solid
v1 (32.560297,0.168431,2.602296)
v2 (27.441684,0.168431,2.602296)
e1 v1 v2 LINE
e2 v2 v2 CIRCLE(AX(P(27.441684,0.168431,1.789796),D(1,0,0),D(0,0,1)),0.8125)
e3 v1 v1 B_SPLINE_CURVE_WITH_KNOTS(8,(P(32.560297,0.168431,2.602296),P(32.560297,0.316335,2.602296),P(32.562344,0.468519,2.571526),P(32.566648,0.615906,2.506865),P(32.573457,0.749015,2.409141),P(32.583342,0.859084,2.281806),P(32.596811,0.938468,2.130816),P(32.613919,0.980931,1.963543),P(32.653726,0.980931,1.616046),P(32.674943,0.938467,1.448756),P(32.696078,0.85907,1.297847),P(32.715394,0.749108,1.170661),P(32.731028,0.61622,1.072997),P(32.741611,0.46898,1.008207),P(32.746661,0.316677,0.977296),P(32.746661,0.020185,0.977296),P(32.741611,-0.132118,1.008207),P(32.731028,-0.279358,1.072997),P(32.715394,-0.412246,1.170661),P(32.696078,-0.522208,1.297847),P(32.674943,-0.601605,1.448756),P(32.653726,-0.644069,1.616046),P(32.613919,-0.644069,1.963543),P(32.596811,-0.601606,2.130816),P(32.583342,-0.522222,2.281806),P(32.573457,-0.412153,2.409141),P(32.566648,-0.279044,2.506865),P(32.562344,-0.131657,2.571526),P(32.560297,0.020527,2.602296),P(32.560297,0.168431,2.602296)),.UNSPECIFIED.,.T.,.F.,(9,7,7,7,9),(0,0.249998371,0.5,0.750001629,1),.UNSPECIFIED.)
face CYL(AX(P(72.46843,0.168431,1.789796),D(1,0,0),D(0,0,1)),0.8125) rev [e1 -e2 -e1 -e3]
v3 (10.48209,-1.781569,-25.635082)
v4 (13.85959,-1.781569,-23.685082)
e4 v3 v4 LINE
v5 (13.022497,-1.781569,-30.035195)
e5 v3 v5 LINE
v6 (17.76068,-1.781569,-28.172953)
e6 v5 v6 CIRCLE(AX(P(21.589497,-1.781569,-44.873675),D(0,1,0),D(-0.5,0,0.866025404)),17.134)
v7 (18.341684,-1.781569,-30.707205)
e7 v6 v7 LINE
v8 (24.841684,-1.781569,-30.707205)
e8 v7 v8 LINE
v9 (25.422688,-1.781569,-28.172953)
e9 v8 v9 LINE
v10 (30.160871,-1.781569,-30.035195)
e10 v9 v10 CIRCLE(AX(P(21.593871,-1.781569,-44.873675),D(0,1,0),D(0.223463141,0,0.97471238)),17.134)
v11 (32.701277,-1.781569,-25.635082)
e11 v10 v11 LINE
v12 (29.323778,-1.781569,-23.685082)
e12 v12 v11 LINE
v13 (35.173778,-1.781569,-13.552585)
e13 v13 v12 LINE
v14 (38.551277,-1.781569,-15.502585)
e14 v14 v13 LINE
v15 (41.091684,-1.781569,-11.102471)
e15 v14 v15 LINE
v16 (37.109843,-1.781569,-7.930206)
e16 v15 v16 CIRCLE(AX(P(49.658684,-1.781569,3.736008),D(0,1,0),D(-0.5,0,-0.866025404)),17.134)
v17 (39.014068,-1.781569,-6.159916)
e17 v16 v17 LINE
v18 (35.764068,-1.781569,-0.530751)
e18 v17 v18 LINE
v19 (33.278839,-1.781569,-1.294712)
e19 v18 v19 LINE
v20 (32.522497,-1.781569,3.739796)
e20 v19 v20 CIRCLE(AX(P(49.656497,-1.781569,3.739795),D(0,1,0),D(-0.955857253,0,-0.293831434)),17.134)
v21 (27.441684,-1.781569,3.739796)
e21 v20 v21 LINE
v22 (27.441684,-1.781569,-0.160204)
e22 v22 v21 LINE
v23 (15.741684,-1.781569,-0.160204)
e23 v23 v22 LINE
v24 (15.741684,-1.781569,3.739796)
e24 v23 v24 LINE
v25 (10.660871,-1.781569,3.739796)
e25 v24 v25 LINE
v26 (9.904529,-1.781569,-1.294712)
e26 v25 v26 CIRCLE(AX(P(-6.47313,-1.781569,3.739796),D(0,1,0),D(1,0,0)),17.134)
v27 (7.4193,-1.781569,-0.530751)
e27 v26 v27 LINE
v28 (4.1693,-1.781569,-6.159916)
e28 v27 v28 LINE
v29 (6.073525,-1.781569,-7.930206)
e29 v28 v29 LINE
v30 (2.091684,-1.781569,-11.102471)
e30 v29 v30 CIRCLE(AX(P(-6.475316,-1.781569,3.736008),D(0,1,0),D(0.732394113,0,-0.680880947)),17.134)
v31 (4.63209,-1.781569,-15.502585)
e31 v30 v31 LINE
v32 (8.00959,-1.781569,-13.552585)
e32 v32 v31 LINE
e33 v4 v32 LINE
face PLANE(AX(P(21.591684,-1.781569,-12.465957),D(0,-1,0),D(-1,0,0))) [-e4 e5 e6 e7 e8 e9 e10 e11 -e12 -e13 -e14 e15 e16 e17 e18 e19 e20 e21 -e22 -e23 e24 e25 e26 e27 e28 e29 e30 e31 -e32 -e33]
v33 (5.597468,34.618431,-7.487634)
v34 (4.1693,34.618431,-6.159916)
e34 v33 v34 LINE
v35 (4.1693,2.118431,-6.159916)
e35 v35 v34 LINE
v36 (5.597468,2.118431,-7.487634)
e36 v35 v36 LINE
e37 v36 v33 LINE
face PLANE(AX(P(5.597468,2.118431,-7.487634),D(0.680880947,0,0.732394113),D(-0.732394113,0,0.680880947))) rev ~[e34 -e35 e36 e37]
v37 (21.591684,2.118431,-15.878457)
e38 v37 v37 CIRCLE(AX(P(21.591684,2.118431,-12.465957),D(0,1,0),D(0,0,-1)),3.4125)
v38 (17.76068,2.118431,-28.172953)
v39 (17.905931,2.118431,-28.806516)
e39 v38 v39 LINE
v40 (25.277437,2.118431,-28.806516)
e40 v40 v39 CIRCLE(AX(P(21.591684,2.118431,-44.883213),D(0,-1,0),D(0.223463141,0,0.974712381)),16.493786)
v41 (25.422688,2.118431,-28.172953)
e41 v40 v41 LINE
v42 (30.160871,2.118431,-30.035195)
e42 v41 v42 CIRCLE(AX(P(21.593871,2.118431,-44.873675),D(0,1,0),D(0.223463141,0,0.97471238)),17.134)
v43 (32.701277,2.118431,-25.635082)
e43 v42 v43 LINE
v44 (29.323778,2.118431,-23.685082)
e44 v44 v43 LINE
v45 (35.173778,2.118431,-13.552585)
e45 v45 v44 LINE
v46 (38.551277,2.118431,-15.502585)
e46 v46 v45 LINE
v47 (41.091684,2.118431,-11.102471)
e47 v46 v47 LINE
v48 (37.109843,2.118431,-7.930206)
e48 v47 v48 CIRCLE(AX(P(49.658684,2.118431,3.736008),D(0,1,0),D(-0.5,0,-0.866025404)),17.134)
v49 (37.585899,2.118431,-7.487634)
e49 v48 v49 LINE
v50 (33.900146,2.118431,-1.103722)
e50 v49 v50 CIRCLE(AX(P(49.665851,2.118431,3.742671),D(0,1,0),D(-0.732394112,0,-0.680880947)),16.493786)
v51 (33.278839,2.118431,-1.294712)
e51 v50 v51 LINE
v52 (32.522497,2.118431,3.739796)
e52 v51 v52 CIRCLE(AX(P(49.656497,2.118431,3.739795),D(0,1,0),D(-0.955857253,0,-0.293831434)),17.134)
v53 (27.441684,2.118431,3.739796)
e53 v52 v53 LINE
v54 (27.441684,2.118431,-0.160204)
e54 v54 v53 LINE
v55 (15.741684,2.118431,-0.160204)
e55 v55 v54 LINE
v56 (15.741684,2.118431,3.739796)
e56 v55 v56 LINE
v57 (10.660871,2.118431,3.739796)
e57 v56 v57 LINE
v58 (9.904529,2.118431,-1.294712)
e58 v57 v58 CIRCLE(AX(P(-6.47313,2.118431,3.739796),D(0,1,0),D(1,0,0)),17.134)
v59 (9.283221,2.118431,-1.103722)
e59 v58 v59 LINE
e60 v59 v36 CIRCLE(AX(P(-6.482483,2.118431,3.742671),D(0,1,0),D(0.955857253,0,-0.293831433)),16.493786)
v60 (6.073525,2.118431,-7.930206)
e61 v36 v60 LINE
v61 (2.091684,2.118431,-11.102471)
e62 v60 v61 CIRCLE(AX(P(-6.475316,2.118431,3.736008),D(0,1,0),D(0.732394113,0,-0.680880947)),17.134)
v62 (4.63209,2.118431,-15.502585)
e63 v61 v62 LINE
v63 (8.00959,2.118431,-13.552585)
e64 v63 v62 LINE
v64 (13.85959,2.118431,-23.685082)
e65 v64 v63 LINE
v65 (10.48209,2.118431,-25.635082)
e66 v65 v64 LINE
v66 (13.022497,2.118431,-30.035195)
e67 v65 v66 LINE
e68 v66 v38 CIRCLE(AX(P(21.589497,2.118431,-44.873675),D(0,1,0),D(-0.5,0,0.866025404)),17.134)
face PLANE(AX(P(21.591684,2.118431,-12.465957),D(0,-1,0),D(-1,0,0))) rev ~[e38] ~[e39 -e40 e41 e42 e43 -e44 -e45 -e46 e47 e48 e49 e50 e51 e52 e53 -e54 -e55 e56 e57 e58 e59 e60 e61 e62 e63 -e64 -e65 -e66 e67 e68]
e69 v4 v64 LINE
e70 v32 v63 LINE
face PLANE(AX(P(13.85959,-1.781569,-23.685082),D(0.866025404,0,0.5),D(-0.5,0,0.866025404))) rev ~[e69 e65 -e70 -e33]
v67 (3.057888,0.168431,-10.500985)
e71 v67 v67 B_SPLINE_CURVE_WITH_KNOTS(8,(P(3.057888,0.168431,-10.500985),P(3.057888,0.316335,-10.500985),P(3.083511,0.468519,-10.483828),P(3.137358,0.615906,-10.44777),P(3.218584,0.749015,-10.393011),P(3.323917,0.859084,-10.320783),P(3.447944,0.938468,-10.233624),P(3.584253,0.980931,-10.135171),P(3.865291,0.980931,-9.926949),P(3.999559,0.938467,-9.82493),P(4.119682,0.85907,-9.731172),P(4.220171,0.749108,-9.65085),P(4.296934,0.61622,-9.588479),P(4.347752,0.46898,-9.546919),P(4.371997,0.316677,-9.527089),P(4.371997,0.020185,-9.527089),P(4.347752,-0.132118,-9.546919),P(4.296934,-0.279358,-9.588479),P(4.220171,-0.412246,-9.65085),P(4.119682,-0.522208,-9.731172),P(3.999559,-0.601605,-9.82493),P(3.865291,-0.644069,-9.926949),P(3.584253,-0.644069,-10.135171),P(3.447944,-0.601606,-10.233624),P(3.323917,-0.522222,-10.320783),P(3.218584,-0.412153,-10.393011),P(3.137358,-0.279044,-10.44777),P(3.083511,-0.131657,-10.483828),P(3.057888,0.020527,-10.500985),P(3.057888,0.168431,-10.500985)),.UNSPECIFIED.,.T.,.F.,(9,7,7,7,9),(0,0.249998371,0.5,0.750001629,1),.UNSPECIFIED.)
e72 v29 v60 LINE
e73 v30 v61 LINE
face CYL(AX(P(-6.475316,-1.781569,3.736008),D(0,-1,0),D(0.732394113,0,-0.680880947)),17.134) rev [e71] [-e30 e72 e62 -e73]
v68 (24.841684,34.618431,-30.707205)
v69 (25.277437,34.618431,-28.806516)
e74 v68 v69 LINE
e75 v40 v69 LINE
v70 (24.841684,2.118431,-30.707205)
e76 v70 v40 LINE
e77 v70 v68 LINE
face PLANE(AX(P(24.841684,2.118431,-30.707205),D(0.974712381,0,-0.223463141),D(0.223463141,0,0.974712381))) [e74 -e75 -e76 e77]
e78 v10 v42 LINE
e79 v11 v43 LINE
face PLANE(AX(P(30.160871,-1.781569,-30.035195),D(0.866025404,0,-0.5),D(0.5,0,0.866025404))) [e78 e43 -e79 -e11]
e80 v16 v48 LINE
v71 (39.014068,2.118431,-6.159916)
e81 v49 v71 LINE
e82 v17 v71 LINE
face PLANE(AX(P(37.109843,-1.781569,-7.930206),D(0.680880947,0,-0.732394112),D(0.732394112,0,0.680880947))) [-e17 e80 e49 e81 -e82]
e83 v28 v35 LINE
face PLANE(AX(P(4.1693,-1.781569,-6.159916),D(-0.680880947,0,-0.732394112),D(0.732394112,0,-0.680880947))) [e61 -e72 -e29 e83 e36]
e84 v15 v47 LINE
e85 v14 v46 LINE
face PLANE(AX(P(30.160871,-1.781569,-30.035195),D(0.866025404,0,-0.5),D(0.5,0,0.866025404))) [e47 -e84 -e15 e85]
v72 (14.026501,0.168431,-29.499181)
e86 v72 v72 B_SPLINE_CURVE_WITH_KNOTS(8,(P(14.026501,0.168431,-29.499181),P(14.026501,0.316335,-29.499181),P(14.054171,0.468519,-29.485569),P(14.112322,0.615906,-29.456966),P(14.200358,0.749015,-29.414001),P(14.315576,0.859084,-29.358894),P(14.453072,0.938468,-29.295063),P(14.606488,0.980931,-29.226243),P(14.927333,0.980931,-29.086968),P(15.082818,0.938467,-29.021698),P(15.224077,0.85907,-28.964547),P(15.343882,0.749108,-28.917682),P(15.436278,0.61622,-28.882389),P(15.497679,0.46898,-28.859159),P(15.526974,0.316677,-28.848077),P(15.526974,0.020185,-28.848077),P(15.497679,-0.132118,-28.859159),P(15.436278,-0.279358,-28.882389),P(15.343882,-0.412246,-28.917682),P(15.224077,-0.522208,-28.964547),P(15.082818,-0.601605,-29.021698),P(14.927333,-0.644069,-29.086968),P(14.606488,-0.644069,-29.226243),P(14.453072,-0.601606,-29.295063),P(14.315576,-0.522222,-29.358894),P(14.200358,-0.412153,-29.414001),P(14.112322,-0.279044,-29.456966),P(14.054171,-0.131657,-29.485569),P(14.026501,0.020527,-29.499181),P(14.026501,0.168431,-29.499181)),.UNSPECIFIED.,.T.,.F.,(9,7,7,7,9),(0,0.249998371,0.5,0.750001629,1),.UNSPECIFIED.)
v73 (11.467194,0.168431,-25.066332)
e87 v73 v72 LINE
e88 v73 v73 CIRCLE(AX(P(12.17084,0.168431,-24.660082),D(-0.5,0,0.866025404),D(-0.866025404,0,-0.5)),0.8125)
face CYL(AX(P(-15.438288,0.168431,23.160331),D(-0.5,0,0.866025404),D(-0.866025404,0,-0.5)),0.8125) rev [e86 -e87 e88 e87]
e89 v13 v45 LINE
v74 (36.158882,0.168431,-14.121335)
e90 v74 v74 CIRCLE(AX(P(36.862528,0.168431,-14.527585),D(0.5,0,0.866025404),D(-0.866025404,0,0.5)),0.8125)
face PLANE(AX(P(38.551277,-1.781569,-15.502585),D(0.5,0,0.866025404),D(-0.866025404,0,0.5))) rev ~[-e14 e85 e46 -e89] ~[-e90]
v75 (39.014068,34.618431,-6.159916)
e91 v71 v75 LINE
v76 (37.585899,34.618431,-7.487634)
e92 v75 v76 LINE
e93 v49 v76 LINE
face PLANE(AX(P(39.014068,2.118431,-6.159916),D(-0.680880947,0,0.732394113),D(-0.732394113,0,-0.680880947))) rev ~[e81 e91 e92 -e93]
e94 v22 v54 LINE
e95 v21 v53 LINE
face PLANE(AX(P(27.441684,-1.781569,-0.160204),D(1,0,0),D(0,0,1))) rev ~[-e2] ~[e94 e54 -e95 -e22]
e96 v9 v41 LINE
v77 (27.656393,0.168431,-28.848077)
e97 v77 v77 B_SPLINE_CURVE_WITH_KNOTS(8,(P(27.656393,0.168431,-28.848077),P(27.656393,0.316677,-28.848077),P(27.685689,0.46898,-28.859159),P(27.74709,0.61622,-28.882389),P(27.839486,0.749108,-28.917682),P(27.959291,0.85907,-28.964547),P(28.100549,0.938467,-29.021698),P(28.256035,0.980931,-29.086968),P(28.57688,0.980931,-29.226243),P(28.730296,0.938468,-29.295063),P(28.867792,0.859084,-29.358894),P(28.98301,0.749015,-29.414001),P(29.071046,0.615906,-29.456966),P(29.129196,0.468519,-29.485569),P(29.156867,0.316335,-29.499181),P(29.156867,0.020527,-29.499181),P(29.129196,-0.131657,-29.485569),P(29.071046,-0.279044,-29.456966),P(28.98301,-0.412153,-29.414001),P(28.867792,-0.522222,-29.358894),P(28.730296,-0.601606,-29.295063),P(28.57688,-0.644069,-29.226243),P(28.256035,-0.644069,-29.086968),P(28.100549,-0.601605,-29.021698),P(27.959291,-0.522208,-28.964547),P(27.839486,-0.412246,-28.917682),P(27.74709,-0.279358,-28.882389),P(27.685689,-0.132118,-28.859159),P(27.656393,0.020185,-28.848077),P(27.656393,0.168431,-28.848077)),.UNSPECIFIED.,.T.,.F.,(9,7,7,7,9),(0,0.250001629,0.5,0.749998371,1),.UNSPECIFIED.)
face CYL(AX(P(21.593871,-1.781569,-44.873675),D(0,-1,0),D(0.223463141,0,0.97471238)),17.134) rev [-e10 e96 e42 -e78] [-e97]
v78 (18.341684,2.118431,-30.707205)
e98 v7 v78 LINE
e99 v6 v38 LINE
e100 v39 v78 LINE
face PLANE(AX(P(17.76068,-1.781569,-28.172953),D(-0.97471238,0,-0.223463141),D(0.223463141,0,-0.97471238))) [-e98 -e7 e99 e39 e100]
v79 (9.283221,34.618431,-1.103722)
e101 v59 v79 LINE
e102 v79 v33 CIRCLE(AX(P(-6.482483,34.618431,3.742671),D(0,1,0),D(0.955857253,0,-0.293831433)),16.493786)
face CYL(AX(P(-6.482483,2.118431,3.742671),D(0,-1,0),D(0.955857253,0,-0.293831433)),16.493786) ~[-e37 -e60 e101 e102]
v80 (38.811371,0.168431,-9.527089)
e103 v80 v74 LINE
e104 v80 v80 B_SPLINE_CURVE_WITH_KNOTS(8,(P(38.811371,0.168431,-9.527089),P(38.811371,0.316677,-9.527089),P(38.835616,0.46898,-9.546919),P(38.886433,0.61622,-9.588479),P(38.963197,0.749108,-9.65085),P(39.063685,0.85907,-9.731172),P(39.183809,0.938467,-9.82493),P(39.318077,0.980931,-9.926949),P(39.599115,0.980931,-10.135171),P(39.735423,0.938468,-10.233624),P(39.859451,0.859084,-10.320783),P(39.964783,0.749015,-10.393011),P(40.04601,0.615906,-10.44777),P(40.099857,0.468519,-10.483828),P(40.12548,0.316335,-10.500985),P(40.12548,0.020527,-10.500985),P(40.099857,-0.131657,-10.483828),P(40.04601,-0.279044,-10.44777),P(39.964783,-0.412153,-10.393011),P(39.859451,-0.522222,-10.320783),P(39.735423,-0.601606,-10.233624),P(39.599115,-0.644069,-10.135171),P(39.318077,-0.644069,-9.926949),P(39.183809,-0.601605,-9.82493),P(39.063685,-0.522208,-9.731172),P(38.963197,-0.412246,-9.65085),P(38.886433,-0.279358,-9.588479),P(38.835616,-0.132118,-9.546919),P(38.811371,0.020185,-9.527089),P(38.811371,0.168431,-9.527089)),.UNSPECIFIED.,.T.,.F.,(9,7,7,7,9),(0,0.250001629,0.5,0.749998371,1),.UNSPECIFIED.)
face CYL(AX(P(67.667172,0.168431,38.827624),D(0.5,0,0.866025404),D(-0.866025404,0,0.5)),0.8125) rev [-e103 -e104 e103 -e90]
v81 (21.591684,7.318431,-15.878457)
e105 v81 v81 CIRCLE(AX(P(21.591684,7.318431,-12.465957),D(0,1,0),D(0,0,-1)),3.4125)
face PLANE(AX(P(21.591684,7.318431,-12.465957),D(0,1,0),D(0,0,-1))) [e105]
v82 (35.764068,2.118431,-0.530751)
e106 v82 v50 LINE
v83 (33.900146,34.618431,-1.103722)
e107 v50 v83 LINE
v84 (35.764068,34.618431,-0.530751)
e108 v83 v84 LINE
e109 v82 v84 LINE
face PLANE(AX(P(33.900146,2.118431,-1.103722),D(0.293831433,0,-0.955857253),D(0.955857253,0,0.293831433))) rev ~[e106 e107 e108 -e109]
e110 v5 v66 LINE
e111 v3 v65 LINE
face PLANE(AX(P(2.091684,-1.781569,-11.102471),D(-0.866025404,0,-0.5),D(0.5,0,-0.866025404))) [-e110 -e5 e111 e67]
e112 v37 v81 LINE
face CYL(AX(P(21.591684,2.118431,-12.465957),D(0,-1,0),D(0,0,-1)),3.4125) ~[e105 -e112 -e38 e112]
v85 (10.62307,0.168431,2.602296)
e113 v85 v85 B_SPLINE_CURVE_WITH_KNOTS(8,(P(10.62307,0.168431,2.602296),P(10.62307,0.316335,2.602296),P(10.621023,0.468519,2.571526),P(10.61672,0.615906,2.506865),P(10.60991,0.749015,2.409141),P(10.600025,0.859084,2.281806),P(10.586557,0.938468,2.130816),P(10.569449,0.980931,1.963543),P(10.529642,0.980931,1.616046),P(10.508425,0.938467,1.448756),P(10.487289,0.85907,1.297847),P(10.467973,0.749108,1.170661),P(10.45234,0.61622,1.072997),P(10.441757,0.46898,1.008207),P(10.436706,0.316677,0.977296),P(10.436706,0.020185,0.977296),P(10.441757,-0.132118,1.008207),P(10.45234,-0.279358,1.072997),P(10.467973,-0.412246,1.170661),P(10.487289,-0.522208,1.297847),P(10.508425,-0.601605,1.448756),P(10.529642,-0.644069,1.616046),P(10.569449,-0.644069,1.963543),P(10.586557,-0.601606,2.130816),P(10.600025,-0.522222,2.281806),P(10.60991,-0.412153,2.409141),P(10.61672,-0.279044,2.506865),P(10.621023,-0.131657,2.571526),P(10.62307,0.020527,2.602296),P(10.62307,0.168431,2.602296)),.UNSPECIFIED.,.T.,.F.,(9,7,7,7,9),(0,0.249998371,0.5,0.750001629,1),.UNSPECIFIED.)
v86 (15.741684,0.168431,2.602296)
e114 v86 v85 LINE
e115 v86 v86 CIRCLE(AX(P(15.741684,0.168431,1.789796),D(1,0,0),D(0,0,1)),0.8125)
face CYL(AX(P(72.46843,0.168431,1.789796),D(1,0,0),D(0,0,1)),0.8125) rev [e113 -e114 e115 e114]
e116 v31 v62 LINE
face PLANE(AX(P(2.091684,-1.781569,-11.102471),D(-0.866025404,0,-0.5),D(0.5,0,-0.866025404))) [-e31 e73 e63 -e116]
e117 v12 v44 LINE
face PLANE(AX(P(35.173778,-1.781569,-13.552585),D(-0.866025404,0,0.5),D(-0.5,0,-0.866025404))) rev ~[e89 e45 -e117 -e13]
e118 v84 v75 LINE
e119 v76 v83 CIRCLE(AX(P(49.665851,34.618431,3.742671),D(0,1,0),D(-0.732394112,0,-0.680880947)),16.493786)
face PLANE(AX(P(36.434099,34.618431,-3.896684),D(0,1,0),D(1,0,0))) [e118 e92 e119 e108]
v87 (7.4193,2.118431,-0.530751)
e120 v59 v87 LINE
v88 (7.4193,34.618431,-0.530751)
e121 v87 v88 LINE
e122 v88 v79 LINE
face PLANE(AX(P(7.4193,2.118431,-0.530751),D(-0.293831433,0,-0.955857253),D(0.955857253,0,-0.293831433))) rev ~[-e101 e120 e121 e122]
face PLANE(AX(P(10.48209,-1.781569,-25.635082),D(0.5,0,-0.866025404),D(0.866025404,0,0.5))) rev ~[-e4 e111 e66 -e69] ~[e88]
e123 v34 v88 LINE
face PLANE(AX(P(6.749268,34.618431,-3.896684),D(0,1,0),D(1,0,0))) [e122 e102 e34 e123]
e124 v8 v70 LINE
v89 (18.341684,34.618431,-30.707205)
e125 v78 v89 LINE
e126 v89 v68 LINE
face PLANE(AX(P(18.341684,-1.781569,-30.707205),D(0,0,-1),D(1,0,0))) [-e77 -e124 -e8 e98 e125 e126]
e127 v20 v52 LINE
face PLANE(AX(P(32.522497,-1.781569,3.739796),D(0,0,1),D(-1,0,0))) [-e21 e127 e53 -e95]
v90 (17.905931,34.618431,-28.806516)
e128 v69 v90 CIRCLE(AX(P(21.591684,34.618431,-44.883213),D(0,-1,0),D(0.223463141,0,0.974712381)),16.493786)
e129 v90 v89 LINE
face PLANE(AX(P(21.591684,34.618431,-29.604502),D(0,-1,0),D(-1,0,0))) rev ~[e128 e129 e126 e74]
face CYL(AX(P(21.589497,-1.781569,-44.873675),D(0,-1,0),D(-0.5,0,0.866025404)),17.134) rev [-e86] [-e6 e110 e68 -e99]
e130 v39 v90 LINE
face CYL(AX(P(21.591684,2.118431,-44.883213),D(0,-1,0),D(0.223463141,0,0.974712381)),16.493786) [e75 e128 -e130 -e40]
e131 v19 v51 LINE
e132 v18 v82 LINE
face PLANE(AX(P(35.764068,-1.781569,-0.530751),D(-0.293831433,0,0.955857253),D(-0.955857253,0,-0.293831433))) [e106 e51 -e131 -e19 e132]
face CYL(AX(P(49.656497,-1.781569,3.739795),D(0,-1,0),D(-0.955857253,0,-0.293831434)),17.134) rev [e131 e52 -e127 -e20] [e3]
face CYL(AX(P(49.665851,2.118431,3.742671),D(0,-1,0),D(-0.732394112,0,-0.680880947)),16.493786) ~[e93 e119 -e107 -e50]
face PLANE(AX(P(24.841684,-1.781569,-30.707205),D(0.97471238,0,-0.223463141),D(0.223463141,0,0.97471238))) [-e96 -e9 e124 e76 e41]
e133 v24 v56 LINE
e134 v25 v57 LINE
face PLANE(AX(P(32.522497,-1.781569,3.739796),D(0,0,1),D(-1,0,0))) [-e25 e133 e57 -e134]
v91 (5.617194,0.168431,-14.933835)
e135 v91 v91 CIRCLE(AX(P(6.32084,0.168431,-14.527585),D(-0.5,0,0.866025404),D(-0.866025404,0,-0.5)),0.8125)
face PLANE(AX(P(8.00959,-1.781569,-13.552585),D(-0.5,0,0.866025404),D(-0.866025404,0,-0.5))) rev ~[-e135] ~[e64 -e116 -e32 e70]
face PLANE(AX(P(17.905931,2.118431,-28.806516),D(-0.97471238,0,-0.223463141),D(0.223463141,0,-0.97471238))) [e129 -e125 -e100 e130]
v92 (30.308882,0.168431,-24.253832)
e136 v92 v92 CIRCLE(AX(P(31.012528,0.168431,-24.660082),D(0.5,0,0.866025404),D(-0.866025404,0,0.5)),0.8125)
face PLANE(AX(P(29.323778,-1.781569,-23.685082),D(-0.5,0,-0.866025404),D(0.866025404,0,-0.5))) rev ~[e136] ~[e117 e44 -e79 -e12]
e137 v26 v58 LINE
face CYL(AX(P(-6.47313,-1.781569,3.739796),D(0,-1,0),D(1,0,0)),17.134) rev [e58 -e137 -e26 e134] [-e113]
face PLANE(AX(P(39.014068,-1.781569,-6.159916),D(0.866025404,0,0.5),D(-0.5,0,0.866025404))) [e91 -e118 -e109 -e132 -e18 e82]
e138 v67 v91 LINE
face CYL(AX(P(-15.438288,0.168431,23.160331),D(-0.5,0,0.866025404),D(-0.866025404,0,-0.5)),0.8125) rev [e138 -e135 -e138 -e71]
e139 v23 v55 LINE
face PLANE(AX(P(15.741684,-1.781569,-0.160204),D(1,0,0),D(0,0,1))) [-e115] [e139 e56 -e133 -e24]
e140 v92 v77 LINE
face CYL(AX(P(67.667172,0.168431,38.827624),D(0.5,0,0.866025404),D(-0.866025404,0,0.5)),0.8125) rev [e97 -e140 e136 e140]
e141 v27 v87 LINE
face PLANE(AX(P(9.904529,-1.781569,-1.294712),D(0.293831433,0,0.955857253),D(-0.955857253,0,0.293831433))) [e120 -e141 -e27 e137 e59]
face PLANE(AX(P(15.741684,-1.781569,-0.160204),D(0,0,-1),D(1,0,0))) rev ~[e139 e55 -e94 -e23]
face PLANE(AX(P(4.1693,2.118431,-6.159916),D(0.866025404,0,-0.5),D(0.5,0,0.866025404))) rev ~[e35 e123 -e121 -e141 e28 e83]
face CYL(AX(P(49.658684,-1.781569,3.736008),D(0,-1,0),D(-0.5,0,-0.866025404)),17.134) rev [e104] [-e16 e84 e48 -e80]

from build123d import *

# Parameters (mm, degrees)
BOSS_EXTRUDE1_DEPTH     = 3
SKETCH2_R               = 2.625
BOSS_EXTRUDE2_DEPTH     = 4
SKETCH3_W               = 9
SKETCH3_H               = 3
CUT_EXTRUDE1_DEPTH      = 46.717380795
CUT_EXTRUDE2_DEPTH      = 47.391760164
CUT_EXTRUDE2_DEPTH_BACK = 47.391760164
SKETCH4_R               = 0.625
CUT_EXTRUDE3_DEPTH      = 33.475581638
CUT_EXTRUDE3_DEPTH_BACK = 33.475581638
SKETCH5_R               = 0.625
CUT_EXTRUDE4_DEPTH      = 34.635958629
CUT_EXTRUDE4_DEPTH_BACK = 34.635958629
SKETCH6_R               = 0.625
BOSS_EXTRUDE3_DEPTH     = 25
SCALE1_SCALE            = 1.3


with BuildPart() as part:
    # Sketch1 → Boss-Extrude1 (new body)
    with BuildSketch(Plane(origin=(0, 0, 0), x_dir=(1, 0, 0), z_dir=(0, 1, 0))):
        with BuildLine():
            Line((6.591682084, 11.417128277), (15, 25.980762114))
            ThreePointArc((15, 25.980762114), (16.768876635, 25.128389411), (18.644755802, 24.548267761))
            Line((18.644755802, 24.548267761), (19.091682084, 26.497692522))
            Line((19.091682084, 26.497692522), (24.091682084, 26.497692522))
            Line((24.091682084, 26.497692522), (24.538608366, 24.548267761))
            ThreePointArc((24.538608366, 24.548267761), (26.414487532, 25.128389411), (28.183364168, 25.980762114))
            Line((28.183364168, 25.980762114), (36.591682084, 11.417128277))
            ThreePointArc((36.591682084, 11.417128277), (34.969067352, 10.311422526), (33.528727683, 8.976924338))
            Line((33.528727683, 8.976924338), (34.993515908, 7.615162444))
            Line((34.993515908, 7.615162444), (32.493515908, 3.285035425))
            Line((32.493515908, 3.285035425), (30.581801401, 3.872698291))
            ThreePointArc((30.581801401, 3.872698291), (30.146261903, 1.958078454), (30, 0))
            Line((30, 0), (13.183364168, 0))
            ThreePointArc((13.183364168, 0), (13.037102264, 1.958078454), (12.601562767, 3.872698291))
            Line((12.601562767, 3.872698291), (10.68984826, 3.285035425))
            Line((10.68984826, 3.285035425), (8.18984826, 7.615162444))
            Line((8.18984826, 7.615162444), (9.654636485, 8.976924338))
            ThreePointArc((9.654636485, 8.976924338), (8.214296816, 10.311422526), (6.591682084, 11.417128277))
        make_face()
    extrude(amount=BOSS_EXTRUDE1_DEPTH)

    # Sketch2 → Boss-Extrude2 (add)
    with BuildSketch(Plane(origin=(0, 3, 0), x_dir=(1, 0, 0), z_dir=(0, 1, 0))):
        with Locations(Location((21.591682084, 12.465963463, 0), (0, 0, 90))):
            Circle(SKETCH2_R)
    extrude(amount=BOSS_EXTRUDE2_DEPTH)

    # Sketch3 → Cut-Extrude1 (cut, through all)
    with BuildSketch(Plane.XZ):
        with Locations((21.591682084, -1.5)):
            Rectangle(SKETCH3_W, SKETCH3_H)
        Polygon((8.545841042, -14.801830878), (13.045841042, -22.596059512), (15.643917253, -21.096059512), (11.143917253, -13.301830878), align=None)
        Polygon((34.637523126, -14.801830878), (32.039446914, -13.301830878), (27.539446914, -21.096059512), (30.137523126, -22.596059512), align=None)
    extrude(amount=-CUT_EXTRUDE1_DEPTH, mode=Mode.SUBTRACT)

    # Sketch4 → Cut-Extrude2 (cut, two sides: drawn at the far end of the back side and taken through both)
    with BuildSketch(Plane(origin=(2.25, 0, 3.897114317), x_dir=(-0.8660254037844389, 0, 0.4999999999999997), z_dir=(-0.4999999999999997, 0, -0.8660254037844389)).offset(-CUT_EXTRUDE2_DEPTH_BACK)):
        with Locations((-35.89789039, 1.5)):
            Circle(SKETCH4_R)
    extrude(amount=CUT_EXTRUDE2_DEPTH + CUT_EXTRUDE2_DEPTH_BACK, mode=Mode.SUBTRACT)

    # Sketch5 → Cut-Extrude3 (cut, two sides: drawn at the far end of the back side and taken through both)
    with BuildSketch(Plane(origin=(8.545841042, 0, -14.801830878), x_dir=(-0.8660254037844383, 0, -0.5000000000000008), z_dir=(0.5000000000000007, 0, -0.8660254037844382)).offset(-CUT_EXTRUDE3_DEPTH_BACK)):
        with Locations((-1.5, 1.5)):
            Circle(SKETCH5_R)
    extrude(amount=CUT_EXTRUDE3_DEPTH + CUT_EXTRUDE3_DEPTH_BACK, mode=Mode.SUBTRACT)

    # Sketch6 → Cut-Extrude4 (cut, two sides: drawn at the far end of the back side and taken through both)
    with BuildSketch(Plane.ZY.offset(-26.091682084).offset(-CUT_EXTRUDE4_DEPTH_BACK)):
        with Locations((-1.5, 1.5)):
            Circle(SKETCH6_R)
    extrude(amount=CUT_EXTRUDE4_DEPTH + CUT_EXTRUDE4_DEPTH_BACK, mode=Mode.SUBTRACT)

    # Sketch7 → Boss-Extrude3 (add)
    with BuildSketch(Plane(origin=(0, 3, 0), x_dir=(1, 0, 0), z_dir=(0, 1, 0))):
        with BuildLine():
            Line((8.18984826, 7.615162444), (10.68984826, 3.285035425))
            Line((10.68984826, 3.285035425), (12.12363414, 3.725782575))
            ThreePointArc((12.12363414, 3.725782575), (10.983890093, 6.341551902), (9.288439429, 8.636483864))
            Line((9.288439429, 8.636483864), (8.18984826, 7.615162444))
        make_face()
        with BuildLine():
            Line((32.493515908, 3.285035425), (34.993515908, 7.615162444))
            Line((34.993515908, 7.615162444), (33.894924739, 8.636483864))
            ThreePointArc((33.894924739, 8.636483864), (32.199474075, 6.341551902), (31.059730028, 3.725782575))
            Line((31.059730028, 3.725782575), (32.493515908, 3.285035425))
        make_face()
        with BuildLine():
            Line((19.091682084, 26.497692522), (24.091682084, 26.497692522))
            Line((24.091682084, 26.497692522), (24.426876795, 25.035623951))
            ThreePointArc((24.426876795, 25.035623951), (21.591682084, 24.714786587), (18.756487372, 25.035623951))
            Line((18.756487372, 25.035623951), (19.091682084, 26.497692522))
        make_face()
    extrude(amount=BOSS_EXTRUDE3_DEPTH)


with BuildPart() as part_1:
    # Scale1: scaled about (21.591676284, 5.938563321, -12.465985005)
    add(part.part.scale(SCALE1_SCALE).moved(Location((-6.477502885, -1.781568996, 3.739795502))))


solid = part_1.part
